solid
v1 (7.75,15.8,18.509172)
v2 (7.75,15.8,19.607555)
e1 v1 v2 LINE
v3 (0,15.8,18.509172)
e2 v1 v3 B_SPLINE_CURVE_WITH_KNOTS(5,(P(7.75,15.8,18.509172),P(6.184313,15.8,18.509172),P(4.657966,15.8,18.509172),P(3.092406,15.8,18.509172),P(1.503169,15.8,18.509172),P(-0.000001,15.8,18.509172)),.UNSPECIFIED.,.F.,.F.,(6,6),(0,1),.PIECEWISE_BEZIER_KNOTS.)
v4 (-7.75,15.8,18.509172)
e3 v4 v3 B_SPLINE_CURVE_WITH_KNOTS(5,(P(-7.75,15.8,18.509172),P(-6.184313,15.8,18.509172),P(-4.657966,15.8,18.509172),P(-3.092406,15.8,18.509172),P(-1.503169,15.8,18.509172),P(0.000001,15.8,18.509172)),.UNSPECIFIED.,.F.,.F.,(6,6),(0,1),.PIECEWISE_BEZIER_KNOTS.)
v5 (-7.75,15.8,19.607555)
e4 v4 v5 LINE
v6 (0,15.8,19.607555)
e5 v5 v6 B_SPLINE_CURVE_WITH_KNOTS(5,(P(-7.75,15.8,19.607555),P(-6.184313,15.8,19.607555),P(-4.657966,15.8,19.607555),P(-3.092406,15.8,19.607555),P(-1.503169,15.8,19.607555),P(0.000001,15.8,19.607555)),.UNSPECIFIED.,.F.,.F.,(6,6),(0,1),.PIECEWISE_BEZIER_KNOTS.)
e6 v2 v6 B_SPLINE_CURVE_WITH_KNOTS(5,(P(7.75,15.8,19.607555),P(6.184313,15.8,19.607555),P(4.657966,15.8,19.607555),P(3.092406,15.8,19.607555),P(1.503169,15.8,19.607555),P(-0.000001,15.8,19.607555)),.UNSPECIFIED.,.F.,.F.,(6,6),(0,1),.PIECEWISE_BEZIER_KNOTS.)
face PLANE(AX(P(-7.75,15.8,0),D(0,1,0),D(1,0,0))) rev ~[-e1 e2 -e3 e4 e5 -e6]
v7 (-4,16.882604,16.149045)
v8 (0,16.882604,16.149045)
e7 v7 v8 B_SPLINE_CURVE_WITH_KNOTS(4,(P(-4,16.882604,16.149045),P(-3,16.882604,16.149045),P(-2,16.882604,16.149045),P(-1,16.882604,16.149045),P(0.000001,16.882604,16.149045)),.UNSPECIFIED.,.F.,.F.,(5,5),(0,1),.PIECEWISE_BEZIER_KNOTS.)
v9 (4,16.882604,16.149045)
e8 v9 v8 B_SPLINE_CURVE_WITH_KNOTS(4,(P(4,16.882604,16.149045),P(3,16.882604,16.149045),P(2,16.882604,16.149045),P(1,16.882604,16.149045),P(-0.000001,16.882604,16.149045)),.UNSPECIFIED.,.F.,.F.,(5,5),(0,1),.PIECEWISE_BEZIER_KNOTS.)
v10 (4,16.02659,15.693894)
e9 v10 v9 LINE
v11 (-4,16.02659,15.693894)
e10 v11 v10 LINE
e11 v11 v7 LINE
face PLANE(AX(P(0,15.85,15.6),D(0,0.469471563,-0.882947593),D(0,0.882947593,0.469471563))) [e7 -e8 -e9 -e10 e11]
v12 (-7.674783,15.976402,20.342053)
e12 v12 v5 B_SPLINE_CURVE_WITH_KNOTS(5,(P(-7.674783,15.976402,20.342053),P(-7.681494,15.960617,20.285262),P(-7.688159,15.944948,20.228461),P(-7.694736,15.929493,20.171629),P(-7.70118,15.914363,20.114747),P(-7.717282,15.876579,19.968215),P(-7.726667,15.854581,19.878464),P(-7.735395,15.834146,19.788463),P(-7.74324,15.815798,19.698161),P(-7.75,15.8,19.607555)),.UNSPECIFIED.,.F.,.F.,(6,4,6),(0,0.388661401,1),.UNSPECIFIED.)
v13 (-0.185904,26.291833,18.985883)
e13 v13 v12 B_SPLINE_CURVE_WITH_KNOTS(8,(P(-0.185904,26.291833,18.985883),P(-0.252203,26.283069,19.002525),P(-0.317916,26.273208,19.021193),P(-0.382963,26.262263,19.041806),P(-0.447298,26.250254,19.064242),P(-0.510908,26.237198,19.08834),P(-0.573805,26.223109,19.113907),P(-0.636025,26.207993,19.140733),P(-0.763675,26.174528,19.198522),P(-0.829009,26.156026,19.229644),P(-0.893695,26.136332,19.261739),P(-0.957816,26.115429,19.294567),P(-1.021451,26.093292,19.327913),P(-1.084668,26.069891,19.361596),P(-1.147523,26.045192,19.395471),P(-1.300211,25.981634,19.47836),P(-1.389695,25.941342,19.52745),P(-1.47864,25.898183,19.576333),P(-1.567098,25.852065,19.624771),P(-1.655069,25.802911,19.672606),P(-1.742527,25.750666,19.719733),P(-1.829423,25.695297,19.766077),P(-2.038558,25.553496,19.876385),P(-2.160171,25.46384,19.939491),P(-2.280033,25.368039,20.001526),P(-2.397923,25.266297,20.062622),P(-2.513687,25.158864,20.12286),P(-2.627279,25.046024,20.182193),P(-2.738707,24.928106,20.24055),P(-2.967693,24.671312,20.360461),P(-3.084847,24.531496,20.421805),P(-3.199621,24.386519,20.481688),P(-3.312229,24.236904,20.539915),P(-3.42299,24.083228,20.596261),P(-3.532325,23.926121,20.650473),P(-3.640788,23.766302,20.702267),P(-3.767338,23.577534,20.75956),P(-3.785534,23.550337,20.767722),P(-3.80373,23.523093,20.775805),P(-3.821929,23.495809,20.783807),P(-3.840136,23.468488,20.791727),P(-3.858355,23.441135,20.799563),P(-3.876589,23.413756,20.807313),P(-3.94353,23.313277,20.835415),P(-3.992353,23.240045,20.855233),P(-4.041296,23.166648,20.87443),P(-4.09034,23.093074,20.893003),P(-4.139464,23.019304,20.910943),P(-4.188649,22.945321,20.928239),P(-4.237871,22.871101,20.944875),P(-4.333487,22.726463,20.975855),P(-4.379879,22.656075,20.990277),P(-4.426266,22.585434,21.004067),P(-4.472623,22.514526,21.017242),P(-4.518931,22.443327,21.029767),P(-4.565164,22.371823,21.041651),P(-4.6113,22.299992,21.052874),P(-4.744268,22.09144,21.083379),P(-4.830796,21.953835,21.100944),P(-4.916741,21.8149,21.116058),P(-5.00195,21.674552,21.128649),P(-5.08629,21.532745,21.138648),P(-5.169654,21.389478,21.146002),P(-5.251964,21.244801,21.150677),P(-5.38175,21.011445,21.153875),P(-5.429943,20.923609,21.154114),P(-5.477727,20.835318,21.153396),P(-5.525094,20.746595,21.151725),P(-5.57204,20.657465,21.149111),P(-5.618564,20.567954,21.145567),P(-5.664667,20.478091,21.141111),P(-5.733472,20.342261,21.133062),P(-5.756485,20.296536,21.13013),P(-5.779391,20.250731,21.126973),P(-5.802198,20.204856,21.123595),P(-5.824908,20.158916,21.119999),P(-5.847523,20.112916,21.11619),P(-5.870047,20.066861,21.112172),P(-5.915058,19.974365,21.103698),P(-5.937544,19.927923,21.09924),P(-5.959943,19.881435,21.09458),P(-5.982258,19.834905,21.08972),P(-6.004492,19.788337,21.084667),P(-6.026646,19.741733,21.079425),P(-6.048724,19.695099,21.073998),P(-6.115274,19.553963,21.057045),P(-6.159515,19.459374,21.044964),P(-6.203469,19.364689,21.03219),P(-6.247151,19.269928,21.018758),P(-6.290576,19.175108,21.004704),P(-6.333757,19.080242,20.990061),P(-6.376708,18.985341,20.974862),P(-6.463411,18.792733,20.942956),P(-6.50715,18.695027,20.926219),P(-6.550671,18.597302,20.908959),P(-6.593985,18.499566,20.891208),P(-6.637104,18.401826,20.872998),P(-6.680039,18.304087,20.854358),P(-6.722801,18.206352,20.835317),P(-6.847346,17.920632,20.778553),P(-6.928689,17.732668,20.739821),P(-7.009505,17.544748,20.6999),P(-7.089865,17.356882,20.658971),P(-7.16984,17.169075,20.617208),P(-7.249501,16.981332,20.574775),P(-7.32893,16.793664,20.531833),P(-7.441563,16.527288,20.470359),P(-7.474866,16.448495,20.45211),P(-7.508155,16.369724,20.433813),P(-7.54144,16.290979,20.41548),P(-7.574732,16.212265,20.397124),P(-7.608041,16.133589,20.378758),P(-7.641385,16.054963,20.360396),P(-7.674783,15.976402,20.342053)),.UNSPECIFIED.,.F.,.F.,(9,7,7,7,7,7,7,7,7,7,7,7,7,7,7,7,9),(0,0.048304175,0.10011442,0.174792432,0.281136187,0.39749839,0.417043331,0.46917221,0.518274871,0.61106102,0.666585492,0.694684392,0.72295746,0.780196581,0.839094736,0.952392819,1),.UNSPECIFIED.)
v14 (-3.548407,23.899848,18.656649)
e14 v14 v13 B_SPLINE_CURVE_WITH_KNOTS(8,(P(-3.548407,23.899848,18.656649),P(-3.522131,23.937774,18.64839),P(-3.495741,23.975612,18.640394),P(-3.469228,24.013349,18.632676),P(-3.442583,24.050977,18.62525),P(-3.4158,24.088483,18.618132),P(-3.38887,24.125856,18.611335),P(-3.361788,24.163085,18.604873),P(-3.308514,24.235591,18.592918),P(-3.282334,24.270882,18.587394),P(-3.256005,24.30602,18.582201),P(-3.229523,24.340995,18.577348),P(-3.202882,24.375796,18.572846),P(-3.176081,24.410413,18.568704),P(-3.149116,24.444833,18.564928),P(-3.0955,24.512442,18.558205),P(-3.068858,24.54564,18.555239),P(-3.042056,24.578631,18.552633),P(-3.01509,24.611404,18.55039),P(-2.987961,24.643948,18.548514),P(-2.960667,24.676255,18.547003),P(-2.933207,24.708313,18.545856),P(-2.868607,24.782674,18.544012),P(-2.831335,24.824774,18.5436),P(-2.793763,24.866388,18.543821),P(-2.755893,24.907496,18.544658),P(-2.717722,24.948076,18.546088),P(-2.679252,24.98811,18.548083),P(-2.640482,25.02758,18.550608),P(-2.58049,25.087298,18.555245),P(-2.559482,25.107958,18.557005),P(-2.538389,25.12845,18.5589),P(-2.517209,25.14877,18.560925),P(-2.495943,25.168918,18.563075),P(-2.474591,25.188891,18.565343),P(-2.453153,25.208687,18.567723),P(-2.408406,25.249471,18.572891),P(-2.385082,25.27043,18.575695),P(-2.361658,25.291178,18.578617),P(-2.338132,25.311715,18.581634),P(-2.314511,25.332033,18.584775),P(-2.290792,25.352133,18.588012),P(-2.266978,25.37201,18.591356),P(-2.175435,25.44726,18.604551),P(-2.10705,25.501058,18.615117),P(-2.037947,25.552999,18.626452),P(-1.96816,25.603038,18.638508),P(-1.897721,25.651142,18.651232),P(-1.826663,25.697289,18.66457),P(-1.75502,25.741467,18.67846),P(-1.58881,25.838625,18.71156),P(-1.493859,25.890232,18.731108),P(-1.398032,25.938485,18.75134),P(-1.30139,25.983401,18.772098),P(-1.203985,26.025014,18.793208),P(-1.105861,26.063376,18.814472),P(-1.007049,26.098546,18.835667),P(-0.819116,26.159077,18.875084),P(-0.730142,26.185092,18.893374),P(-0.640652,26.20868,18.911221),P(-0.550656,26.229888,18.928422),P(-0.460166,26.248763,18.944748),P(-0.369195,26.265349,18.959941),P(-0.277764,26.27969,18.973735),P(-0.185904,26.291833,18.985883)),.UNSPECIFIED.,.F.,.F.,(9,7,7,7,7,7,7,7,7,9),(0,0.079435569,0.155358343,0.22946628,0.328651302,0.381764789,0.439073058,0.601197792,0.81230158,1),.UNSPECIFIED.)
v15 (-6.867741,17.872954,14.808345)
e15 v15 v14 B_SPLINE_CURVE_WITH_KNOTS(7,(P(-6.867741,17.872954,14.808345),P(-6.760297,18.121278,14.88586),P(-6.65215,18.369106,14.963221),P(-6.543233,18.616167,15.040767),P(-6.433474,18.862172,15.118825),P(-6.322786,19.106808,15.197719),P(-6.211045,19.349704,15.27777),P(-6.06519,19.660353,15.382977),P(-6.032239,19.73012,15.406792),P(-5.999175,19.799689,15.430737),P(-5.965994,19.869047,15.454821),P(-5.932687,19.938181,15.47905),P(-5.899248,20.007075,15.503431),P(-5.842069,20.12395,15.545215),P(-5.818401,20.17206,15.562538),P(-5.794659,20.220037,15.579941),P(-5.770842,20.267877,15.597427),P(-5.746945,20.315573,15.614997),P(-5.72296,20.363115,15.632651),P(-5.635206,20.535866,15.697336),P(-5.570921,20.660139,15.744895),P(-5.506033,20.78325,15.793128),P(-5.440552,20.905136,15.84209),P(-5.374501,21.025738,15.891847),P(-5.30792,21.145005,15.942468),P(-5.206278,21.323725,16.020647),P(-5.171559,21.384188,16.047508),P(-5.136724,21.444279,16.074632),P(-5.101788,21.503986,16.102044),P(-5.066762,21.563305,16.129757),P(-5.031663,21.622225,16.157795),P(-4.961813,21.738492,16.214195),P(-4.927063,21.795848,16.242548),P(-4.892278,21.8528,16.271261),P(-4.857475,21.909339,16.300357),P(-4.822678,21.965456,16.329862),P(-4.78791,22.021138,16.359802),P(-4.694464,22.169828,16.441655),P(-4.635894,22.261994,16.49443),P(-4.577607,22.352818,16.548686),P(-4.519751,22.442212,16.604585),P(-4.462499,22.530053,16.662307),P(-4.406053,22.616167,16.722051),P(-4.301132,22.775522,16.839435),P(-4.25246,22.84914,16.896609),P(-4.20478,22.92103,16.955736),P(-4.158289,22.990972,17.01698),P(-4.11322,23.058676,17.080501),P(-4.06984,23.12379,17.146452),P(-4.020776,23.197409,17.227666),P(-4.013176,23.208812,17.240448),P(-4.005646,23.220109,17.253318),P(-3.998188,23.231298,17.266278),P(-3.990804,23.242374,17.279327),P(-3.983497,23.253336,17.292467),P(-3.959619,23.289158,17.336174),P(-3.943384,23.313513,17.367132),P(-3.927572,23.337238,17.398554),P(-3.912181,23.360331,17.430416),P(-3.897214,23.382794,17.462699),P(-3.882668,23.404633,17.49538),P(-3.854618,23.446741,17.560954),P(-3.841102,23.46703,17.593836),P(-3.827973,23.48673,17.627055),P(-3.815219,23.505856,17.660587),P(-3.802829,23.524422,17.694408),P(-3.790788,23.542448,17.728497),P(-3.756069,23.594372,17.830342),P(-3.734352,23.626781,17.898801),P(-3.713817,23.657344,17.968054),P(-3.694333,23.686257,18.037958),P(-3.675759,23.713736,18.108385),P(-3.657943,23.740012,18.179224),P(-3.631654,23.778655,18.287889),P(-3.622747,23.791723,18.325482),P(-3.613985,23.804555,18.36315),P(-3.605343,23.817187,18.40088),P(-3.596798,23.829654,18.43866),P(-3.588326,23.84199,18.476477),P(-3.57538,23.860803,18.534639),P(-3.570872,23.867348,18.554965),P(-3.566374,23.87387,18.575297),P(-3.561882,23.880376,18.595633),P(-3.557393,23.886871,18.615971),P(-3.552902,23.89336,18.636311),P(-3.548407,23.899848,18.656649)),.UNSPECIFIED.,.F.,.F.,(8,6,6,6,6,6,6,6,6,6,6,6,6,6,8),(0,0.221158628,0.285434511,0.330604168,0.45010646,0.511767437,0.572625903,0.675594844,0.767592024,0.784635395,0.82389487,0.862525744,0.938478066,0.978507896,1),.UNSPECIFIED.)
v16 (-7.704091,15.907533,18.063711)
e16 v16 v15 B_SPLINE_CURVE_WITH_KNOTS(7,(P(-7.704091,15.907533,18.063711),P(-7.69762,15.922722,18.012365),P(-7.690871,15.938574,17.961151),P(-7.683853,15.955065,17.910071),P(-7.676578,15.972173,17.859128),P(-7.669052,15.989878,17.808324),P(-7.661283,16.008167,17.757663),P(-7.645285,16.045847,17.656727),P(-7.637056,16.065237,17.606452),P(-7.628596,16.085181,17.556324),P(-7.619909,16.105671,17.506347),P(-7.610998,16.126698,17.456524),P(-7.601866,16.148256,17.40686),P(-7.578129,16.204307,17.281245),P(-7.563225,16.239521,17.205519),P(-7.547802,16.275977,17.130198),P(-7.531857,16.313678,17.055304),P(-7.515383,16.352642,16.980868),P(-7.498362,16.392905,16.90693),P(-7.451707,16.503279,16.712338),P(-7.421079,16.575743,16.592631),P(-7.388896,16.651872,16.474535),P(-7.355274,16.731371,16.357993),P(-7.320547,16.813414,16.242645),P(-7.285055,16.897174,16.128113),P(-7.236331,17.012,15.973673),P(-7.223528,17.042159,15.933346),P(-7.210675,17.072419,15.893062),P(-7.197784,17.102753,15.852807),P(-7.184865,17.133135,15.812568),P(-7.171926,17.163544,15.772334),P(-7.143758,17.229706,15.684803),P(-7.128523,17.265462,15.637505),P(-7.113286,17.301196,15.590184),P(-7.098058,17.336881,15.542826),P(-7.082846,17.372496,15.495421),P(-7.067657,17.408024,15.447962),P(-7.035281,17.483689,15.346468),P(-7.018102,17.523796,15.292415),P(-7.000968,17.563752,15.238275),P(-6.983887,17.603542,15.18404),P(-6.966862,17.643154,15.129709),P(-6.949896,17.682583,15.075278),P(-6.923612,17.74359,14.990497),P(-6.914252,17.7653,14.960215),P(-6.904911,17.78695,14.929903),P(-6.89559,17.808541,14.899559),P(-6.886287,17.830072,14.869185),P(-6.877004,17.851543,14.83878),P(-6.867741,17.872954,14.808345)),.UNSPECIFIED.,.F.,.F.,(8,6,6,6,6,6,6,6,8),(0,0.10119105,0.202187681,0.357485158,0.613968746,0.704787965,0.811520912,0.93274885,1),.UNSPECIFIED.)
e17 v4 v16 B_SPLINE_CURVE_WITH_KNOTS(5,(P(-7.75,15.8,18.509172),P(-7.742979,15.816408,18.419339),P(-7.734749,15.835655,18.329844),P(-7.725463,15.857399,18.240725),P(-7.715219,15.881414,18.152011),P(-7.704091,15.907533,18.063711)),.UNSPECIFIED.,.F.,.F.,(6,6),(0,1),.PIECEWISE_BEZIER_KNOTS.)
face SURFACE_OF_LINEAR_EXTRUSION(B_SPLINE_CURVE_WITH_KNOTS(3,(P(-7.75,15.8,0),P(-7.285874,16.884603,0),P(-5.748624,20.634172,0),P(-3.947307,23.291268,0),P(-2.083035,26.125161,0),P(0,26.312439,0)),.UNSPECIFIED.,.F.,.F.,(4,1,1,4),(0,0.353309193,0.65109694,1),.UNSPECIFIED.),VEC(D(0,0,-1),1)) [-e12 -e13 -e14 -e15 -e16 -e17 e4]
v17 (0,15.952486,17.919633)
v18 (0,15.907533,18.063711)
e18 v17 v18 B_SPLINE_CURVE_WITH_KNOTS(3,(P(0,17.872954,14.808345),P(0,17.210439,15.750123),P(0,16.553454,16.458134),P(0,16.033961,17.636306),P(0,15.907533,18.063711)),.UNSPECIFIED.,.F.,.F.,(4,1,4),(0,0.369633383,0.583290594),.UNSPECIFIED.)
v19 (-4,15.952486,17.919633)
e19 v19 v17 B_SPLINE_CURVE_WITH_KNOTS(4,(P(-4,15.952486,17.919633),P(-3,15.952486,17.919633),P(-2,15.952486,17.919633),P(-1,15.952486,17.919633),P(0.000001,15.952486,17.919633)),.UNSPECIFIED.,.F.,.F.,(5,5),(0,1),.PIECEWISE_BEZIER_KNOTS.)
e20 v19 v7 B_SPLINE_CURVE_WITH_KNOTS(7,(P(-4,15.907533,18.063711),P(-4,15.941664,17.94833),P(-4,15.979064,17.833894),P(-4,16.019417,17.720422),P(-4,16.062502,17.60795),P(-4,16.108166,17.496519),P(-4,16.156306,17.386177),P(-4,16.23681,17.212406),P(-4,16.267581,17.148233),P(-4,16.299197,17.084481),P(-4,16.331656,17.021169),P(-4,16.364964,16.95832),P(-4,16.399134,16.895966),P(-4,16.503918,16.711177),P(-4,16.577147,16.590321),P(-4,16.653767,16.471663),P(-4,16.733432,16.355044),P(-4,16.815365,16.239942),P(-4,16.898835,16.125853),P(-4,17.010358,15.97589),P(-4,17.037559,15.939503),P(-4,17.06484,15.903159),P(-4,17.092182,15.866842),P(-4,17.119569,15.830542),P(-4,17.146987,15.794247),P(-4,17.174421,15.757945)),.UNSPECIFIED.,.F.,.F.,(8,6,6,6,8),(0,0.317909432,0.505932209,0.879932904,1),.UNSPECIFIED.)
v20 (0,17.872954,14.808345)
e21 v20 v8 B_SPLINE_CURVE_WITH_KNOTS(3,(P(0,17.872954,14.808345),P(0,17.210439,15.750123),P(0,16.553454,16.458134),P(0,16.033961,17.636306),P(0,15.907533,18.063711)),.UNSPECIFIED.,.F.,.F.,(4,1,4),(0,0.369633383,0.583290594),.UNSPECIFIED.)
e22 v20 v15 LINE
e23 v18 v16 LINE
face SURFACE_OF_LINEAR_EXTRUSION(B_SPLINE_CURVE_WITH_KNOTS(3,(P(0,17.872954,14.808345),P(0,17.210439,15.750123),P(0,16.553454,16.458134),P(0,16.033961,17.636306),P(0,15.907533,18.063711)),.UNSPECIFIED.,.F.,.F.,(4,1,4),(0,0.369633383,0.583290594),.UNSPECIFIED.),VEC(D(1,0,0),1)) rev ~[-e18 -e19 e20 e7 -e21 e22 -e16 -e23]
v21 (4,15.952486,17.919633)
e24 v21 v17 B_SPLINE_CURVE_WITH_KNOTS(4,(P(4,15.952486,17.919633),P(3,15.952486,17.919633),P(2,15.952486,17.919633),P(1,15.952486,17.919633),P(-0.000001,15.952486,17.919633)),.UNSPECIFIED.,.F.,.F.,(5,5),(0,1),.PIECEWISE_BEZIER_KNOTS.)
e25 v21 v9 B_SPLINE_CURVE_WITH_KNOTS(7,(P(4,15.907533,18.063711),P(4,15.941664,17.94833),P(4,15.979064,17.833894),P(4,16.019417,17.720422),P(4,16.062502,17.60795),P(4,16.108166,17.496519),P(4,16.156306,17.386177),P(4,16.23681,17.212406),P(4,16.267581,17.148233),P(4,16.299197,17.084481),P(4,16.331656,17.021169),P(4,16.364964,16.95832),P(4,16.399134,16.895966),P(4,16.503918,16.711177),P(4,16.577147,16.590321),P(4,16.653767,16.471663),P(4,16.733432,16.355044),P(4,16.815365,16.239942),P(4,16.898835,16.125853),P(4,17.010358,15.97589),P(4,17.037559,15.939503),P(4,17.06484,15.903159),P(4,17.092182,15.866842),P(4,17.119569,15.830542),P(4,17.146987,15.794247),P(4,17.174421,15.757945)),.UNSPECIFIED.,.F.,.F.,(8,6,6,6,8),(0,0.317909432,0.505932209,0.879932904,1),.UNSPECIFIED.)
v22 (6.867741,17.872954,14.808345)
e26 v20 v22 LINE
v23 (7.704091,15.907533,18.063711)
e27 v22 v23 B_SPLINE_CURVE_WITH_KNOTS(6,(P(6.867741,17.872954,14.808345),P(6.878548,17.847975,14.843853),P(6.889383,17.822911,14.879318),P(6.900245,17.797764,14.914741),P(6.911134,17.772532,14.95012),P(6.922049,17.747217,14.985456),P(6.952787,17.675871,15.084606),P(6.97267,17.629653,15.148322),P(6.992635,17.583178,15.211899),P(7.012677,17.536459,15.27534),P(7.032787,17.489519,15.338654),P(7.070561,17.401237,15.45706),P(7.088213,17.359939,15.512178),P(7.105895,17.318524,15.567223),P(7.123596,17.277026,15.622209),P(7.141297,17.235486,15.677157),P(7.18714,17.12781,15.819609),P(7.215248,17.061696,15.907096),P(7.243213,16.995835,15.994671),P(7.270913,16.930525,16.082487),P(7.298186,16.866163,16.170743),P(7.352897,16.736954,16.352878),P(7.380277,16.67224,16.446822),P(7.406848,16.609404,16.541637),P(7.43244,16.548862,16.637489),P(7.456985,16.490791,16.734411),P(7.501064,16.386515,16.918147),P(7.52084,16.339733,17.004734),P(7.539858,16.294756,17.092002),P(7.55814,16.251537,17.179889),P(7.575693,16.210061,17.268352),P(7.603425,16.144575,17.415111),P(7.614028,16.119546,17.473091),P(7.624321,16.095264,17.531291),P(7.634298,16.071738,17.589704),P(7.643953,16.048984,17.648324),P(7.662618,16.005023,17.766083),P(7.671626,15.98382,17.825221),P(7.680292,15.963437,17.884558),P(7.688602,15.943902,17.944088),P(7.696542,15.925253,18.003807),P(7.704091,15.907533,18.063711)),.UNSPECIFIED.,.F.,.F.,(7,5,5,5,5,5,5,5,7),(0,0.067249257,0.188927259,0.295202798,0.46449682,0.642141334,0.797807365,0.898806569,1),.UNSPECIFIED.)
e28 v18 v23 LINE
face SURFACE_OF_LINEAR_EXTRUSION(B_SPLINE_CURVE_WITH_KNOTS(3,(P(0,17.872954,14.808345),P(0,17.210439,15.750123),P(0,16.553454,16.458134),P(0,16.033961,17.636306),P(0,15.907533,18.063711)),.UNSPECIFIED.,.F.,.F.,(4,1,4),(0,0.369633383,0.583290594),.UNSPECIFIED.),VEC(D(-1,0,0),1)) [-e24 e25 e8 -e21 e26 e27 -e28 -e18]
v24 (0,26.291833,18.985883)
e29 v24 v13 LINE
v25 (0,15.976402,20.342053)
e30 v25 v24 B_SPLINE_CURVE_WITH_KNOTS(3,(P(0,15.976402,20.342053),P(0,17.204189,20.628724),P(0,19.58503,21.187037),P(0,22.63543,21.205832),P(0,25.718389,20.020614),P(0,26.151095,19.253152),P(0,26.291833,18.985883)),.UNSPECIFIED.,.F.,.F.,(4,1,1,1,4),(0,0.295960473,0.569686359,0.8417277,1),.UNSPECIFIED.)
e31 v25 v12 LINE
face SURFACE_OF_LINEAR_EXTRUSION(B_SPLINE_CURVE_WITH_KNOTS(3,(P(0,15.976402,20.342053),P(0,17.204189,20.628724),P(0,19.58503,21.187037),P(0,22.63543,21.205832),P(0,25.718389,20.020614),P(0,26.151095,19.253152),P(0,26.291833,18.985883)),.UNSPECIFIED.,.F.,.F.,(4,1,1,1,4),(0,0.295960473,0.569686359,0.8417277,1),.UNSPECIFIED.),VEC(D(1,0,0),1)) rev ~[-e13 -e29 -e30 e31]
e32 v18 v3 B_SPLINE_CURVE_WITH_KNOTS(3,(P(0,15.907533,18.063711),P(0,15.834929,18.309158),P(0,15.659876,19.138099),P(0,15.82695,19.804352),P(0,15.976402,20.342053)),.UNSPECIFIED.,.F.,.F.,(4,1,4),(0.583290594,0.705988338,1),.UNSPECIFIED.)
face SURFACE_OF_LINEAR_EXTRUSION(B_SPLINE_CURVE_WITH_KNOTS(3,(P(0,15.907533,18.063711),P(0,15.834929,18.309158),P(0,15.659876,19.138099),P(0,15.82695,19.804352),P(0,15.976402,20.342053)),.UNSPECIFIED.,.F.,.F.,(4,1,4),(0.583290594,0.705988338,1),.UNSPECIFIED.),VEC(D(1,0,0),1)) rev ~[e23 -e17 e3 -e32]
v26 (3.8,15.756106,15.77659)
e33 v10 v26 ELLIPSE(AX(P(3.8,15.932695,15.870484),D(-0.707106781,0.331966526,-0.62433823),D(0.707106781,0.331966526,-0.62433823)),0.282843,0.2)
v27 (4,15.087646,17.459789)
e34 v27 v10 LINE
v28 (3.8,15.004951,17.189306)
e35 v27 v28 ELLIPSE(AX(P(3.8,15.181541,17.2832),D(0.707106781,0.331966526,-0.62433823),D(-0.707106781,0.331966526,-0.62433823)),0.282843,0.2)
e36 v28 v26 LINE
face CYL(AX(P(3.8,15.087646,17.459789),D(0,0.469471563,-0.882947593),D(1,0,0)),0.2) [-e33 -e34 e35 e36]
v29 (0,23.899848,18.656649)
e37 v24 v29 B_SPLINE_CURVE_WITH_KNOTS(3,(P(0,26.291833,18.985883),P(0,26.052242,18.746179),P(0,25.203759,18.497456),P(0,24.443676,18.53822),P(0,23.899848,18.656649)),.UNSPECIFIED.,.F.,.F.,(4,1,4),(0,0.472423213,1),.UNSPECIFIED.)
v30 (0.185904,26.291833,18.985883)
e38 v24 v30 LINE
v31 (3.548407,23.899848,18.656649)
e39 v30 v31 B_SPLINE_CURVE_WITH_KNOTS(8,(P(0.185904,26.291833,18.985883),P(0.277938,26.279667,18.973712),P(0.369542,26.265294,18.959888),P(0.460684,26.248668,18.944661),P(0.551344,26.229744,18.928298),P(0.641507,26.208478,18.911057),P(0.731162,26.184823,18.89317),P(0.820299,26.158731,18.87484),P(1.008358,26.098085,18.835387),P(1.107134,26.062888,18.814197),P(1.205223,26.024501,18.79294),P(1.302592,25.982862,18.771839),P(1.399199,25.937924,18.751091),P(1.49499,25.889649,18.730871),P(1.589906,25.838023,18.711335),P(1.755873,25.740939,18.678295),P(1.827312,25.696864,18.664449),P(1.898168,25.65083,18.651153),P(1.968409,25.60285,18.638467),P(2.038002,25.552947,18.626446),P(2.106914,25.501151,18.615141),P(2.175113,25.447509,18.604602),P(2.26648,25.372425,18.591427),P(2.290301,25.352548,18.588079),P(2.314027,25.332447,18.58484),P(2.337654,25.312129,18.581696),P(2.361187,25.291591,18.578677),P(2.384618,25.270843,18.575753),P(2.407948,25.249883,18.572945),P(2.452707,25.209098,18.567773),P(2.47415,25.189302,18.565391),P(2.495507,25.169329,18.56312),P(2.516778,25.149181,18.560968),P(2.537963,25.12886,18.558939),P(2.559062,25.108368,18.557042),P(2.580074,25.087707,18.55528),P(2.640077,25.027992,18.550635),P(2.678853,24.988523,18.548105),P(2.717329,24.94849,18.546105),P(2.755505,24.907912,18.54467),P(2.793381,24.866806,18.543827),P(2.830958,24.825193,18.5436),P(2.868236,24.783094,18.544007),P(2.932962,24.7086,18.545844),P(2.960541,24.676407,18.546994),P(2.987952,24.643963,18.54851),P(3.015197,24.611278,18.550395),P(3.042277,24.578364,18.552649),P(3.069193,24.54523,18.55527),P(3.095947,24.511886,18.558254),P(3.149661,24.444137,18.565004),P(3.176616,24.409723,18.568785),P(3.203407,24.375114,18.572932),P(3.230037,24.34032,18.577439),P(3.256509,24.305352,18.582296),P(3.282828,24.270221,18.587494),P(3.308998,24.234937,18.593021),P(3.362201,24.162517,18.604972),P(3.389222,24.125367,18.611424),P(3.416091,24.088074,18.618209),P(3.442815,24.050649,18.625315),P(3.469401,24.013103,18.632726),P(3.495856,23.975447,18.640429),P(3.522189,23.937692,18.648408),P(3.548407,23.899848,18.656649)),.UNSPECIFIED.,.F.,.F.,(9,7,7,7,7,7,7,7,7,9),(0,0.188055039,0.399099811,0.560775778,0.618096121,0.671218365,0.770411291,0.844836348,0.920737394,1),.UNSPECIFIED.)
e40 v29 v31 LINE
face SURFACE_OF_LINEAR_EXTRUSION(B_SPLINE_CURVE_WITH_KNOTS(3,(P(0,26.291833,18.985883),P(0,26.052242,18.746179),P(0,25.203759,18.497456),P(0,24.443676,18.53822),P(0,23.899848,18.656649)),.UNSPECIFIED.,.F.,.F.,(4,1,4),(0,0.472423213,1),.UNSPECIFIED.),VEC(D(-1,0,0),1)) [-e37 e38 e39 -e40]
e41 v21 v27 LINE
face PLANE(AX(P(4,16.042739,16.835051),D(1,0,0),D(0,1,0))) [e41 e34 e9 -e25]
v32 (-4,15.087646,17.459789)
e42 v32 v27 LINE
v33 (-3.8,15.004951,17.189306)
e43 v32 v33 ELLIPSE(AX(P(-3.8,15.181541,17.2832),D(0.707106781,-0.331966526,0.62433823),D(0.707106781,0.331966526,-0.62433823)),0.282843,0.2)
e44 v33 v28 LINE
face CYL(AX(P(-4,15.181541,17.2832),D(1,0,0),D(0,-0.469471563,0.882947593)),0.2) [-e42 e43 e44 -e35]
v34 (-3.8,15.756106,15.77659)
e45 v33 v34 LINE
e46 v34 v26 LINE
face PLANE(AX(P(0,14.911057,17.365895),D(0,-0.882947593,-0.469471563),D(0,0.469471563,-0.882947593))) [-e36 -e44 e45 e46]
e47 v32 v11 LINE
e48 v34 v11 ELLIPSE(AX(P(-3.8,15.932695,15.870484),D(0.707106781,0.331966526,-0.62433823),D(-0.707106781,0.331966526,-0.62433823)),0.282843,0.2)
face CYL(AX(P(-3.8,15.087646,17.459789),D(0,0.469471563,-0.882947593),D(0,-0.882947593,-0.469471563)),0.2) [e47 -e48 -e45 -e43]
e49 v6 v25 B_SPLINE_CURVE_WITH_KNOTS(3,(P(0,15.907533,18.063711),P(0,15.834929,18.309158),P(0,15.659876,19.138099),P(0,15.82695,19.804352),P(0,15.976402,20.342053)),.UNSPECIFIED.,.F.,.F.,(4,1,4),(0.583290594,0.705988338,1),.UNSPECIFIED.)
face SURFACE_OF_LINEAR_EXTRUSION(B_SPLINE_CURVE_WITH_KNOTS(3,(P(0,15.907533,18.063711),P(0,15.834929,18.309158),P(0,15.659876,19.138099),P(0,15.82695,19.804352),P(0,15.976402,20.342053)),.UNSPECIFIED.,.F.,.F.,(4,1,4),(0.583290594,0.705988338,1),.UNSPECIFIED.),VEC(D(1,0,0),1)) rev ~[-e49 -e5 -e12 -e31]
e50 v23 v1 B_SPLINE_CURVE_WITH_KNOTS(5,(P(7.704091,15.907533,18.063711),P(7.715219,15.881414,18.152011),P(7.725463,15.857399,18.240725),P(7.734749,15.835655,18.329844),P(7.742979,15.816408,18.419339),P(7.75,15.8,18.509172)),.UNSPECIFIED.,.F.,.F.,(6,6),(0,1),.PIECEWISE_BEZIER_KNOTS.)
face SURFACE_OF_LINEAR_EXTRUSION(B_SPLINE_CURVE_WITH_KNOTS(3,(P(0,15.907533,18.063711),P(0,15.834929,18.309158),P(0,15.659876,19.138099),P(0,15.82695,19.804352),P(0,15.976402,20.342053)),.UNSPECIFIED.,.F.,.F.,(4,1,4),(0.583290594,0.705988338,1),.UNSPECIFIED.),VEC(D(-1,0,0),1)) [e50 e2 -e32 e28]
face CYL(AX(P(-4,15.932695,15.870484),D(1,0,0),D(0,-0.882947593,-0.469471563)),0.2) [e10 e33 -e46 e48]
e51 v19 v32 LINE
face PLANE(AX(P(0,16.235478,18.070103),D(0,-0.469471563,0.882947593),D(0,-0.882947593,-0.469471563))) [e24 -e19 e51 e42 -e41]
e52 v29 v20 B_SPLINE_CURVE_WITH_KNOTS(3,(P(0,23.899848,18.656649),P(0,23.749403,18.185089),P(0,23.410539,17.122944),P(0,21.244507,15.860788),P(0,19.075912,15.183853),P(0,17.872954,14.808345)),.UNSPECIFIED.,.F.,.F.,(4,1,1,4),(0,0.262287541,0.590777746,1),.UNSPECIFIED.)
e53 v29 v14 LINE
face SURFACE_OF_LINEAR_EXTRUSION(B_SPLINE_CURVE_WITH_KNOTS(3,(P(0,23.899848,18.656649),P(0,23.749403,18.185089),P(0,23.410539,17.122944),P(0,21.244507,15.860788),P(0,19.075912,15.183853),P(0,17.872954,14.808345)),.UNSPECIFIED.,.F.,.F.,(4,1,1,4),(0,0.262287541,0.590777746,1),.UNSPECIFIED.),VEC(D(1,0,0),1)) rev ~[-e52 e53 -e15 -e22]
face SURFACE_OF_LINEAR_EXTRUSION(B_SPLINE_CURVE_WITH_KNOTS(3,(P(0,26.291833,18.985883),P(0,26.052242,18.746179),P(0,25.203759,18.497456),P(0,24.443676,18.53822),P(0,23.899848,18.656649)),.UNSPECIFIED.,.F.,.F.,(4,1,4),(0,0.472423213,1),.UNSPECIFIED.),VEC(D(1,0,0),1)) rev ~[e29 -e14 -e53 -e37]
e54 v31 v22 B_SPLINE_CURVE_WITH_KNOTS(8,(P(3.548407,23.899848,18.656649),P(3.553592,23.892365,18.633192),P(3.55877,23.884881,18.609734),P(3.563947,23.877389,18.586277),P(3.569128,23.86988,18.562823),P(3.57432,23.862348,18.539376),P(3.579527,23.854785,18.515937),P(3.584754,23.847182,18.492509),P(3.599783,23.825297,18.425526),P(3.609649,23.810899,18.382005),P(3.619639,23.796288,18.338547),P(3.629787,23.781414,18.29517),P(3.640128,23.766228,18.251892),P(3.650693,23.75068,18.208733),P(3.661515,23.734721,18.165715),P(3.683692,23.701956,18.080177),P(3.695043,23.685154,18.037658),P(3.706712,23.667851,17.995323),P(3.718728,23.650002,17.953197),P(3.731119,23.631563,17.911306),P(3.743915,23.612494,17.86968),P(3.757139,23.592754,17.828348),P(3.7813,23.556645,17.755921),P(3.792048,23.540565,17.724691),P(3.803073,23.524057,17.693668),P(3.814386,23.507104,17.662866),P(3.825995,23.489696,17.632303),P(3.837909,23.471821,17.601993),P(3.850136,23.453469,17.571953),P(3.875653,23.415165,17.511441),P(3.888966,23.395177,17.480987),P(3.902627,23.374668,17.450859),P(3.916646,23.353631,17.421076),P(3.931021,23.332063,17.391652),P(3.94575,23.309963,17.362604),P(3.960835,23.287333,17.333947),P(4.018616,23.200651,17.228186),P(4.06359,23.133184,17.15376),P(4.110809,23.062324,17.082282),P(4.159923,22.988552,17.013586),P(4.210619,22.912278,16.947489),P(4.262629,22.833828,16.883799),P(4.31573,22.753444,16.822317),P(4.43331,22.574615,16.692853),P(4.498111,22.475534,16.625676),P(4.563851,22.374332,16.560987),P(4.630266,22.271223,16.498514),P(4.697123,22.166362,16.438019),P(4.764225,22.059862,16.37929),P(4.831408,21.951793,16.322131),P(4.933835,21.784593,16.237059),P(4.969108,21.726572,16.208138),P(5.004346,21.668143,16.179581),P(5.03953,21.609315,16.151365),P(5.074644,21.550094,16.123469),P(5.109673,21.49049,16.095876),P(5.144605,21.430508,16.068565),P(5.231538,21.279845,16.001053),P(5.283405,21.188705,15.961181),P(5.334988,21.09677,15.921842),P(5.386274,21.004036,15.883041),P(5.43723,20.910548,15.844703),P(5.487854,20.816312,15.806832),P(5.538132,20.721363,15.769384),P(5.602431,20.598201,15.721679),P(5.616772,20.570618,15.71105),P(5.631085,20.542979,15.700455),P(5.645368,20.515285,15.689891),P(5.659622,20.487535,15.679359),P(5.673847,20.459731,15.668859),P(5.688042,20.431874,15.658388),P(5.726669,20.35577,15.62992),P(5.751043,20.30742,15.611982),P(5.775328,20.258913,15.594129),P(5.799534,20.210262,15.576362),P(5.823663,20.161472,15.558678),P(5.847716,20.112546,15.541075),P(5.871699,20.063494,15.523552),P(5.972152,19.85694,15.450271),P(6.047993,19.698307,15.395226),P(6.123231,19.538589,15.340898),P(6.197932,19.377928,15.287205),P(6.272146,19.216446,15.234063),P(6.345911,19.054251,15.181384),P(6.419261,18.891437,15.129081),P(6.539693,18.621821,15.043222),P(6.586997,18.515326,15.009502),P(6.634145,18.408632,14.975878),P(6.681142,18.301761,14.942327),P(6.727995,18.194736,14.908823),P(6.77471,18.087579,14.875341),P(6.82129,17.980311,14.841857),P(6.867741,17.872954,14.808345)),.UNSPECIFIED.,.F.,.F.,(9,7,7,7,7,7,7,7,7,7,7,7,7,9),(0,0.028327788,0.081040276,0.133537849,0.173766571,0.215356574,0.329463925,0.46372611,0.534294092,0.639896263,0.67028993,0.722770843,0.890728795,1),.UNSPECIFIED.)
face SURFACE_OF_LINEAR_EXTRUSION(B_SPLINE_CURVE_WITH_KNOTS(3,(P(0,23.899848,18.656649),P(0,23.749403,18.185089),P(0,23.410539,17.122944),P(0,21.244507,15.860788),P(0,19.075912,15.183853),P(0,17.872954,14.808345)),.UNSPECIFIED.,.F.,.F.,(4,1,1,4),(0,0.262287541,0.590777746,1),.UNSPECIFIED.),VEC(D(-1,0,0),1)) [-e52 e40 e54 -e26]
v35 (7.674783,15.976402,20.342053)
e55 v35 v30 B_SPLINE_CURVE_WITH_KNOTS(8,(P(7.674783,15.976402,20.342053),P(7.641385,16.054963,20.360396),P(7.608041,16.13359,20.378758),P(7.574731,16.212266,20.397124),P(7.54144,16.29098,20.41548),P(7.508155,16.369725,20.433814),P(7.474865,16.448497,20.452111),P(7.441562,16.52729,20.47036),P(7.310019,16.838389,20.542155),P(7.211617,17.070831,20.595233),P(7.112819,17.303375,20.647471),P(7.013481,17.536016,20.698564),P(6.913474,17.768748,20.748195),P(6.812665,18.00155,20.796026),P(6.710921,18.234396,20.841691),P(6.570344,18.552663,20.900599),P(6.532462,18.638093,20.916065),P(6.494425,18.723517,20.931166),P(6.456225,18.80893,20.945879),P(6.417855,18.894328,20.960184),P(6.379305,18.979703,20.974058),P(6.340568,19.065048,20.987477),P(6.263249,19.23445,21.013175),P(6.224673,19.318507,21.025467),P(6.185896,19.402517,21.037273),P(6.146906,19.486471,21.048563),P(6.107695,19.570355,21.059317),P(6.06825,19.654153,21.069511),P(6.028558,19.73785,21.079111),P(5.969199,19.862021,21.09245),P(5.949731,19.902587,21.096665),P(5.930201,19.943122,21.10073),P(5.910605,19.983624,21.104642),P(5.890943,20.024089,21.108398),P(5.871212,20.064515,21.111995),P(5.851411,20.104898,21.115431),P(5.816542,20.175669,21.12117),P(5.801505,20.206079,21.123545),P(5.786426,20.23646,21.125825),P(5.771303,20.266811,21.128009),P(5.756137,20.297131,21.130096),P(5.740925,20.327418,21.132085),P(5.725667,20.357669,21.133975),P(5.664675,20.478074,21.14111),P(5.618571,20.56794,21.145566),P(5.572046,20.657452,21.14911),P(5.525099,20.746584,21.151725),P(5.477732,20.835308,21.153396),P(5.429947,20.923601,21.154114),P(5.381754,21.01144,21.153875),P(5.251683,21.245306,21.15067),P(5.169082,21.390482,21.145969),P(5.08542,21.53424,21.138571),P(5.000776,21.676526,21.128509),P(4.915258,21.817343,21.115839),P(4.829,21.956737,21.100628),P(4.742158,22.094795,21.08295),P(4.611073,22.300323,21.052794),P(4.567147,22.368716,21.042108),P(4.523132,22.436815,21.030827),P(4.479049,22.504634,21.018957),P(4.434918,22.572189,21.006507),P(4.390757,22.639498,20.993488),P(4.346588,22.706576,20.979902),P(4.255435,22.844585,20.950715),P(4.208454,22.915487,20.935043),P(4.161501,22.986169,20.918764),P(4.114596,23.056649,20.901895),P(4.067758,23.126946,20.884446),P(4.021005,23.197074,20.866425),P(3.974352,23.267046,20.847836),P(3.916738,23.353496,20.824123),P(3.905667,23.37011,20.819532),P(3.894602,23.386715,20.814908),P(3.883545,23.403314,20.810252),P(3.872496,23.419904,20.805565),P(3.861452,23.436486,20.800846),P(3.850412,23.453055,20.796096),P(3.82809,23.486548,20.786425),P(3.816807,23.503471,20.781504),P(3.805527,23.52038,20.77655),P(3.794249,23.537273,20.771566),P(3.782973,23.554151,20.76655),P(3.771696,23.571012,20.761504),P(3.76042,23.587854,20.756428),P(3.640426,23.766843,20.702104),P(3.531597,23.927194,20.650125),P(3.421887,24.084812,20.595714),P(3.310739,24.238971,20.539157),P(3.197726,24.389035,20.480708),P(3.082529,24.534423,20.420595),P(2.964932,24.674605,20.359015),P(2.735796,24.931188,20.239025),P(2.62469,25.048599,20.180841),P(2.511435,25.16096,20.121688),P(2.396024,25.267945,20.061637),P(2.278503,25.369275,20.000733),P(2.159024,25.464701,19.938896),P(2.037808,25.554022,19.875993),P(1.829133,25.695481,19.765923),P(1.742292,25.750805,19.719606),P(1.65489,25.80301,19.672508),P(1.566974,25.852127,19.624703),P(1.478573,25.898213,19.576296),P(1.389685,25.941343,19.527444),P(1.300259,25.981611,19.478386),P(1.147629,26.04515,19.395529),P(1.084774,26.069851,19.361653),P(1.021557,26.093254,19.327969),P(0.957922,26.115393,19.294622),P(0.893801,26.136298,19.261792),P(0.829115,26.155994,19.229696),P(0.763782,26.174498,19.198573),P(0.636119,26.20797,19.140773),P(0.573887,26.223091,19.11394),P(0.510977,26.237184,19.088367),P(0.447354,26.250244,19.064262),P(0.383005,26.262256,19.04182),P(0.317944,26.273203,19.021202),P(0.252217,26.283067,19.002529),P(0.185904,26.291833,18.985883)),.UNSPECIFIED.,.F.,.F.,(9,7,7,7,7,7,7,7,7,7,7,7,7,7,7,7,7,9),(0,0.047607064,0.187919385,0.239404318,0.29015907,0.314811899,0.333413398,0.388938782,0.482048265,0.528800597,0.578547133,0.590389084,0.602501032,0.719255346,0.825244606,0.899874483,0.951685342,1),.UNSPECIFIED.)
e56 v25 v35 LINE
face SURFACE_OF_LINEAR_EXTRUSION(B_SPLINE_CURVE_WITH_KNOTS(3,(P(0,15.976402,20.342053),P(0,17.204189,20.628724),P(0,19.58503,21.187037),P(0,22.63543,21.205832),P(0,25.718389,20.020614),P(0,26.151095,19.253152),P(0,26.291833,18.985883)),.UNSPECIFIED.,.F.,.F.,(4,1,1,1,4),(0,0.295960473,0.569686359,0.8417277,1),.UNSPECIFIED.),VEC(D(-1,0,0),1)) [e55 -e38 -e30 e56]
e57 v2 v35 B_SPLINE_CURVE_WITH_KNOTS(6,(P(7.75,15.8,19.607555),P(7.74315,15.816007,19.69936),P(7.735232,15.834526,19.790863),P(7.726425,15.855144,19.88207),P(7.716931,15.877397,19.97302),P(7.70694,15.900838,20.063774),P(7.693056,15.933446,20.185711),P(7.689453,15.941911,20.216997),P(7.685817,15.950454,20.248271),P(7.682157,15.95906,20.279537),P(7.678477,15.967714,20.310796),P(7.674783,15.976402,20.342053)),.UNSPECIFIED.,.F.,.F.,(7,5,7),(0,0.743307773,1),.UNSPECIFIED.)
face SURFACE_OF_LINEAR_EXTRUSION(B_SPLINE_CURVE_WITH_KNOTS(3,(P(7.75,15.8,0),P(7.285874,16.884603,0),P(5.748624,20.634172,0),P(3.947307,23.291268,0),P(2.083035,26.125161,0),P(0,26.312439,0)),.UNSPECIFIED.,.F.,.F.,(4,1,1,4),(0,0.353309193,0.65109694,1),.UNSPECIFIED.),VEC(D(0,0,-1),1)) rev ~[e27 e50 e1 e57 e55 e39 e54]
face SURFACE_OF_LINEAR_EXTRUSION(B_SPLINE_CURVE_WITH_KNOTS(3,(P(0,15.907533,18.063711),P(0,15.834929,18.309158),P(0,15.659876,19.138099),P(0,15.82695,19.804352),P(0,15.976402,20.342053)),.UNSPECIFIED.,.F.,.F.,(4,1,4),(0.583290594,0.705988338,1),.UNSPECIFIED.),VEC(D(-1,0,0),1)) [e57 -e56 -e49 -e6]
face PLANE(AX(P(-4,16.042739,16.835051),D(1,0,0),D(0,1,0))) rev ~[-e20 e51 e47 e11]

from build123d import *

# Parameters (mm, degrees)
F2_DEPTH = 7.75
F4_DEPTH = 25
F6_DEPTH = 4
F7_R     = 0.2


with BuildPart() as f2:
    # F1 (on Right) → F2 (new body, symmetric)
    with BuildSketch(Plane.YZ):
        with BuildLine():
            add(Edge.make_bspline(
                [(15.9764018067, 20.3420528816), (17.2041890595, 20.6287244677), (19.5850299616, 21.1870373625), (22.6354301881, 21.2058318383), (25.7183894409, 20.0206141081), (26.1510953936, 19.2531516386), (26.2918325878, 18.9858826508)],
                knots=[0, 0, 0, 0, 0.2959604726, 0.569686359, 0.8417277002, 1, 1, 1, 1], degree=3))
            add(Edge.make_bspline(
                [(15.907533388, 18.0637109861), (15.834929305, 18.3091583728), (15.6598763017, 19.138099244), (15.8269500679, 19.8043517568), (15.9764018067, 20.3420528816)],
                knots=[0.583290594, 0.583290594, 0.583290594, 0.583290594, 0.7059883384, 1, 1, 1, 1], degree=3))
            add(Edge.make_bspline(
                [(15.907533388, 18.0637109861), (16.3952708112, 18.2571285426), (17.5152711285, 18.7051624944), (20.8104230334, 19.6077071346), (22.5333760998, 19.128982349), (23.4615845949, 18.8083123925), (23.8998483478, 18.6566487187)],
                knots=[0, 0, 0, 0, 0.2330121711, 0.5559876221, 0.7913389708, 1, 1, 1, 1], degree=3))
            add(Edge.make_bspline(
                [(26.2918325878, 18.9858826508), (26.0522422972, 18.7461785524), (25.2037589138, 18.4974557574), (24.4436755058, 18.5382203481), (23.8998483478, 18.6566487187)],
                knots=[0, 0, 0, 0, 0.4724232135, 1, 1, 1, 1], degree=3))
        make_face()
        with BuildLine():
            add(Edge.make_bspline(
                [(15.907533388, 18.0637109861), (16.3952708112, 18.2571285426), (17.5152711285, 18.7051624944), (20.8104230334, 19.6077071346), (22.5333760998, 19.128982349), (23.4615845949, 18.8083123925), (23.8998483478, 18.6566487187)],
                knots=[0, 0, 0, 0, 0.2330121711, 0.5559876221, 0.7913389708, 1, 1, 1, 1], degree=3))
            add(Edge.make_bspline(
                [(17.872953561, 14.8083452143), (17.2104388475, 15.7501231879), (16.5534544022, 16.4581339927), (16.0339610251, 17.6363061925), (15.907533388, 18.0637109861)],
                knots=[0, 0, 0, 0, 0.3696333829, 0.583290594, 0.583290594, 0.583290594, 0.583290594], degree=3))
            add(Edge.make_bspline(
                [(23.8998483478, 18.6566487187), (23.749402857, 18.1850885688), (23.4105386945, 17.122944171), (21.2445071896, 15.8607875111), (19.0759119851, 15.1838529079), (17.872953561, 14.8083452143)],
                knots=[0, 0, 0, 0, 0.2622875414, 0.5907777464, 1, 1, 1, 1], degree=3))
        make_face()
    extrude(amount=F2_DEPTH, both=True)

    # F3 (on Top) → F4 (intersect)
    with BuildSketch(Plane.XY):
        with BuildLine():
            add(Edge.make_bspline(
                [(-7.75, 15.8), (-7.2858735782, 16.8846031645), (-5.7486243533, 20.6341718163), (-3.9473069374, 23.2912684486), (-2.0830353705, 26.1251607988), (0, 26.3124387711)],
                knots=[0, 0, 0, 0, 0.3533091933, 0.6510969403, 1, 1, 1, 1], degree=3))
            Line((-7.75, 15.8), (7.75, 15.8))
            add(Edge.make_bspline(
                [(7.75, 15.8), (7.2858735782, 16.8846031645), (5.7486243533, 20.6341718163), (3.9473069374, 23.2912684486), (2.0830353705, 26.1251607988), (0, 26.3124387711)],
                knots=[0, 0, 0, 0, 0.3533091933, 0.6510969403, 1, 1, 1, 1], degree=3))
        make_face()
    extrude(amount=F4_DEPTH, mode=Mode.INTERSECT)

    # F5 (on Right) → F6 (join, symmetric)
    with BuildSketch(Plane.YZ):
        Polygon((16.2354782637, 18.0701025299), (14.9110568744, 17.3658951857), (15.85, 15.6), (17.1744213893, 16.3042073442), align=None)
    extrude(amount=F6_DEPTH, both=True)

    # F7
    f7_edges = [f2.edges().sort_by_distance(p)[0] for p in [
        (4, 15.380528, 16.482948),
        (0, 14.911057, 17.365895),
        (-4, 15.380528, 16.482948),
        (0, 15.85, 15.6),
    ]]
    fillet(f7_edges, radius=F7_R)


solid = f2.part
